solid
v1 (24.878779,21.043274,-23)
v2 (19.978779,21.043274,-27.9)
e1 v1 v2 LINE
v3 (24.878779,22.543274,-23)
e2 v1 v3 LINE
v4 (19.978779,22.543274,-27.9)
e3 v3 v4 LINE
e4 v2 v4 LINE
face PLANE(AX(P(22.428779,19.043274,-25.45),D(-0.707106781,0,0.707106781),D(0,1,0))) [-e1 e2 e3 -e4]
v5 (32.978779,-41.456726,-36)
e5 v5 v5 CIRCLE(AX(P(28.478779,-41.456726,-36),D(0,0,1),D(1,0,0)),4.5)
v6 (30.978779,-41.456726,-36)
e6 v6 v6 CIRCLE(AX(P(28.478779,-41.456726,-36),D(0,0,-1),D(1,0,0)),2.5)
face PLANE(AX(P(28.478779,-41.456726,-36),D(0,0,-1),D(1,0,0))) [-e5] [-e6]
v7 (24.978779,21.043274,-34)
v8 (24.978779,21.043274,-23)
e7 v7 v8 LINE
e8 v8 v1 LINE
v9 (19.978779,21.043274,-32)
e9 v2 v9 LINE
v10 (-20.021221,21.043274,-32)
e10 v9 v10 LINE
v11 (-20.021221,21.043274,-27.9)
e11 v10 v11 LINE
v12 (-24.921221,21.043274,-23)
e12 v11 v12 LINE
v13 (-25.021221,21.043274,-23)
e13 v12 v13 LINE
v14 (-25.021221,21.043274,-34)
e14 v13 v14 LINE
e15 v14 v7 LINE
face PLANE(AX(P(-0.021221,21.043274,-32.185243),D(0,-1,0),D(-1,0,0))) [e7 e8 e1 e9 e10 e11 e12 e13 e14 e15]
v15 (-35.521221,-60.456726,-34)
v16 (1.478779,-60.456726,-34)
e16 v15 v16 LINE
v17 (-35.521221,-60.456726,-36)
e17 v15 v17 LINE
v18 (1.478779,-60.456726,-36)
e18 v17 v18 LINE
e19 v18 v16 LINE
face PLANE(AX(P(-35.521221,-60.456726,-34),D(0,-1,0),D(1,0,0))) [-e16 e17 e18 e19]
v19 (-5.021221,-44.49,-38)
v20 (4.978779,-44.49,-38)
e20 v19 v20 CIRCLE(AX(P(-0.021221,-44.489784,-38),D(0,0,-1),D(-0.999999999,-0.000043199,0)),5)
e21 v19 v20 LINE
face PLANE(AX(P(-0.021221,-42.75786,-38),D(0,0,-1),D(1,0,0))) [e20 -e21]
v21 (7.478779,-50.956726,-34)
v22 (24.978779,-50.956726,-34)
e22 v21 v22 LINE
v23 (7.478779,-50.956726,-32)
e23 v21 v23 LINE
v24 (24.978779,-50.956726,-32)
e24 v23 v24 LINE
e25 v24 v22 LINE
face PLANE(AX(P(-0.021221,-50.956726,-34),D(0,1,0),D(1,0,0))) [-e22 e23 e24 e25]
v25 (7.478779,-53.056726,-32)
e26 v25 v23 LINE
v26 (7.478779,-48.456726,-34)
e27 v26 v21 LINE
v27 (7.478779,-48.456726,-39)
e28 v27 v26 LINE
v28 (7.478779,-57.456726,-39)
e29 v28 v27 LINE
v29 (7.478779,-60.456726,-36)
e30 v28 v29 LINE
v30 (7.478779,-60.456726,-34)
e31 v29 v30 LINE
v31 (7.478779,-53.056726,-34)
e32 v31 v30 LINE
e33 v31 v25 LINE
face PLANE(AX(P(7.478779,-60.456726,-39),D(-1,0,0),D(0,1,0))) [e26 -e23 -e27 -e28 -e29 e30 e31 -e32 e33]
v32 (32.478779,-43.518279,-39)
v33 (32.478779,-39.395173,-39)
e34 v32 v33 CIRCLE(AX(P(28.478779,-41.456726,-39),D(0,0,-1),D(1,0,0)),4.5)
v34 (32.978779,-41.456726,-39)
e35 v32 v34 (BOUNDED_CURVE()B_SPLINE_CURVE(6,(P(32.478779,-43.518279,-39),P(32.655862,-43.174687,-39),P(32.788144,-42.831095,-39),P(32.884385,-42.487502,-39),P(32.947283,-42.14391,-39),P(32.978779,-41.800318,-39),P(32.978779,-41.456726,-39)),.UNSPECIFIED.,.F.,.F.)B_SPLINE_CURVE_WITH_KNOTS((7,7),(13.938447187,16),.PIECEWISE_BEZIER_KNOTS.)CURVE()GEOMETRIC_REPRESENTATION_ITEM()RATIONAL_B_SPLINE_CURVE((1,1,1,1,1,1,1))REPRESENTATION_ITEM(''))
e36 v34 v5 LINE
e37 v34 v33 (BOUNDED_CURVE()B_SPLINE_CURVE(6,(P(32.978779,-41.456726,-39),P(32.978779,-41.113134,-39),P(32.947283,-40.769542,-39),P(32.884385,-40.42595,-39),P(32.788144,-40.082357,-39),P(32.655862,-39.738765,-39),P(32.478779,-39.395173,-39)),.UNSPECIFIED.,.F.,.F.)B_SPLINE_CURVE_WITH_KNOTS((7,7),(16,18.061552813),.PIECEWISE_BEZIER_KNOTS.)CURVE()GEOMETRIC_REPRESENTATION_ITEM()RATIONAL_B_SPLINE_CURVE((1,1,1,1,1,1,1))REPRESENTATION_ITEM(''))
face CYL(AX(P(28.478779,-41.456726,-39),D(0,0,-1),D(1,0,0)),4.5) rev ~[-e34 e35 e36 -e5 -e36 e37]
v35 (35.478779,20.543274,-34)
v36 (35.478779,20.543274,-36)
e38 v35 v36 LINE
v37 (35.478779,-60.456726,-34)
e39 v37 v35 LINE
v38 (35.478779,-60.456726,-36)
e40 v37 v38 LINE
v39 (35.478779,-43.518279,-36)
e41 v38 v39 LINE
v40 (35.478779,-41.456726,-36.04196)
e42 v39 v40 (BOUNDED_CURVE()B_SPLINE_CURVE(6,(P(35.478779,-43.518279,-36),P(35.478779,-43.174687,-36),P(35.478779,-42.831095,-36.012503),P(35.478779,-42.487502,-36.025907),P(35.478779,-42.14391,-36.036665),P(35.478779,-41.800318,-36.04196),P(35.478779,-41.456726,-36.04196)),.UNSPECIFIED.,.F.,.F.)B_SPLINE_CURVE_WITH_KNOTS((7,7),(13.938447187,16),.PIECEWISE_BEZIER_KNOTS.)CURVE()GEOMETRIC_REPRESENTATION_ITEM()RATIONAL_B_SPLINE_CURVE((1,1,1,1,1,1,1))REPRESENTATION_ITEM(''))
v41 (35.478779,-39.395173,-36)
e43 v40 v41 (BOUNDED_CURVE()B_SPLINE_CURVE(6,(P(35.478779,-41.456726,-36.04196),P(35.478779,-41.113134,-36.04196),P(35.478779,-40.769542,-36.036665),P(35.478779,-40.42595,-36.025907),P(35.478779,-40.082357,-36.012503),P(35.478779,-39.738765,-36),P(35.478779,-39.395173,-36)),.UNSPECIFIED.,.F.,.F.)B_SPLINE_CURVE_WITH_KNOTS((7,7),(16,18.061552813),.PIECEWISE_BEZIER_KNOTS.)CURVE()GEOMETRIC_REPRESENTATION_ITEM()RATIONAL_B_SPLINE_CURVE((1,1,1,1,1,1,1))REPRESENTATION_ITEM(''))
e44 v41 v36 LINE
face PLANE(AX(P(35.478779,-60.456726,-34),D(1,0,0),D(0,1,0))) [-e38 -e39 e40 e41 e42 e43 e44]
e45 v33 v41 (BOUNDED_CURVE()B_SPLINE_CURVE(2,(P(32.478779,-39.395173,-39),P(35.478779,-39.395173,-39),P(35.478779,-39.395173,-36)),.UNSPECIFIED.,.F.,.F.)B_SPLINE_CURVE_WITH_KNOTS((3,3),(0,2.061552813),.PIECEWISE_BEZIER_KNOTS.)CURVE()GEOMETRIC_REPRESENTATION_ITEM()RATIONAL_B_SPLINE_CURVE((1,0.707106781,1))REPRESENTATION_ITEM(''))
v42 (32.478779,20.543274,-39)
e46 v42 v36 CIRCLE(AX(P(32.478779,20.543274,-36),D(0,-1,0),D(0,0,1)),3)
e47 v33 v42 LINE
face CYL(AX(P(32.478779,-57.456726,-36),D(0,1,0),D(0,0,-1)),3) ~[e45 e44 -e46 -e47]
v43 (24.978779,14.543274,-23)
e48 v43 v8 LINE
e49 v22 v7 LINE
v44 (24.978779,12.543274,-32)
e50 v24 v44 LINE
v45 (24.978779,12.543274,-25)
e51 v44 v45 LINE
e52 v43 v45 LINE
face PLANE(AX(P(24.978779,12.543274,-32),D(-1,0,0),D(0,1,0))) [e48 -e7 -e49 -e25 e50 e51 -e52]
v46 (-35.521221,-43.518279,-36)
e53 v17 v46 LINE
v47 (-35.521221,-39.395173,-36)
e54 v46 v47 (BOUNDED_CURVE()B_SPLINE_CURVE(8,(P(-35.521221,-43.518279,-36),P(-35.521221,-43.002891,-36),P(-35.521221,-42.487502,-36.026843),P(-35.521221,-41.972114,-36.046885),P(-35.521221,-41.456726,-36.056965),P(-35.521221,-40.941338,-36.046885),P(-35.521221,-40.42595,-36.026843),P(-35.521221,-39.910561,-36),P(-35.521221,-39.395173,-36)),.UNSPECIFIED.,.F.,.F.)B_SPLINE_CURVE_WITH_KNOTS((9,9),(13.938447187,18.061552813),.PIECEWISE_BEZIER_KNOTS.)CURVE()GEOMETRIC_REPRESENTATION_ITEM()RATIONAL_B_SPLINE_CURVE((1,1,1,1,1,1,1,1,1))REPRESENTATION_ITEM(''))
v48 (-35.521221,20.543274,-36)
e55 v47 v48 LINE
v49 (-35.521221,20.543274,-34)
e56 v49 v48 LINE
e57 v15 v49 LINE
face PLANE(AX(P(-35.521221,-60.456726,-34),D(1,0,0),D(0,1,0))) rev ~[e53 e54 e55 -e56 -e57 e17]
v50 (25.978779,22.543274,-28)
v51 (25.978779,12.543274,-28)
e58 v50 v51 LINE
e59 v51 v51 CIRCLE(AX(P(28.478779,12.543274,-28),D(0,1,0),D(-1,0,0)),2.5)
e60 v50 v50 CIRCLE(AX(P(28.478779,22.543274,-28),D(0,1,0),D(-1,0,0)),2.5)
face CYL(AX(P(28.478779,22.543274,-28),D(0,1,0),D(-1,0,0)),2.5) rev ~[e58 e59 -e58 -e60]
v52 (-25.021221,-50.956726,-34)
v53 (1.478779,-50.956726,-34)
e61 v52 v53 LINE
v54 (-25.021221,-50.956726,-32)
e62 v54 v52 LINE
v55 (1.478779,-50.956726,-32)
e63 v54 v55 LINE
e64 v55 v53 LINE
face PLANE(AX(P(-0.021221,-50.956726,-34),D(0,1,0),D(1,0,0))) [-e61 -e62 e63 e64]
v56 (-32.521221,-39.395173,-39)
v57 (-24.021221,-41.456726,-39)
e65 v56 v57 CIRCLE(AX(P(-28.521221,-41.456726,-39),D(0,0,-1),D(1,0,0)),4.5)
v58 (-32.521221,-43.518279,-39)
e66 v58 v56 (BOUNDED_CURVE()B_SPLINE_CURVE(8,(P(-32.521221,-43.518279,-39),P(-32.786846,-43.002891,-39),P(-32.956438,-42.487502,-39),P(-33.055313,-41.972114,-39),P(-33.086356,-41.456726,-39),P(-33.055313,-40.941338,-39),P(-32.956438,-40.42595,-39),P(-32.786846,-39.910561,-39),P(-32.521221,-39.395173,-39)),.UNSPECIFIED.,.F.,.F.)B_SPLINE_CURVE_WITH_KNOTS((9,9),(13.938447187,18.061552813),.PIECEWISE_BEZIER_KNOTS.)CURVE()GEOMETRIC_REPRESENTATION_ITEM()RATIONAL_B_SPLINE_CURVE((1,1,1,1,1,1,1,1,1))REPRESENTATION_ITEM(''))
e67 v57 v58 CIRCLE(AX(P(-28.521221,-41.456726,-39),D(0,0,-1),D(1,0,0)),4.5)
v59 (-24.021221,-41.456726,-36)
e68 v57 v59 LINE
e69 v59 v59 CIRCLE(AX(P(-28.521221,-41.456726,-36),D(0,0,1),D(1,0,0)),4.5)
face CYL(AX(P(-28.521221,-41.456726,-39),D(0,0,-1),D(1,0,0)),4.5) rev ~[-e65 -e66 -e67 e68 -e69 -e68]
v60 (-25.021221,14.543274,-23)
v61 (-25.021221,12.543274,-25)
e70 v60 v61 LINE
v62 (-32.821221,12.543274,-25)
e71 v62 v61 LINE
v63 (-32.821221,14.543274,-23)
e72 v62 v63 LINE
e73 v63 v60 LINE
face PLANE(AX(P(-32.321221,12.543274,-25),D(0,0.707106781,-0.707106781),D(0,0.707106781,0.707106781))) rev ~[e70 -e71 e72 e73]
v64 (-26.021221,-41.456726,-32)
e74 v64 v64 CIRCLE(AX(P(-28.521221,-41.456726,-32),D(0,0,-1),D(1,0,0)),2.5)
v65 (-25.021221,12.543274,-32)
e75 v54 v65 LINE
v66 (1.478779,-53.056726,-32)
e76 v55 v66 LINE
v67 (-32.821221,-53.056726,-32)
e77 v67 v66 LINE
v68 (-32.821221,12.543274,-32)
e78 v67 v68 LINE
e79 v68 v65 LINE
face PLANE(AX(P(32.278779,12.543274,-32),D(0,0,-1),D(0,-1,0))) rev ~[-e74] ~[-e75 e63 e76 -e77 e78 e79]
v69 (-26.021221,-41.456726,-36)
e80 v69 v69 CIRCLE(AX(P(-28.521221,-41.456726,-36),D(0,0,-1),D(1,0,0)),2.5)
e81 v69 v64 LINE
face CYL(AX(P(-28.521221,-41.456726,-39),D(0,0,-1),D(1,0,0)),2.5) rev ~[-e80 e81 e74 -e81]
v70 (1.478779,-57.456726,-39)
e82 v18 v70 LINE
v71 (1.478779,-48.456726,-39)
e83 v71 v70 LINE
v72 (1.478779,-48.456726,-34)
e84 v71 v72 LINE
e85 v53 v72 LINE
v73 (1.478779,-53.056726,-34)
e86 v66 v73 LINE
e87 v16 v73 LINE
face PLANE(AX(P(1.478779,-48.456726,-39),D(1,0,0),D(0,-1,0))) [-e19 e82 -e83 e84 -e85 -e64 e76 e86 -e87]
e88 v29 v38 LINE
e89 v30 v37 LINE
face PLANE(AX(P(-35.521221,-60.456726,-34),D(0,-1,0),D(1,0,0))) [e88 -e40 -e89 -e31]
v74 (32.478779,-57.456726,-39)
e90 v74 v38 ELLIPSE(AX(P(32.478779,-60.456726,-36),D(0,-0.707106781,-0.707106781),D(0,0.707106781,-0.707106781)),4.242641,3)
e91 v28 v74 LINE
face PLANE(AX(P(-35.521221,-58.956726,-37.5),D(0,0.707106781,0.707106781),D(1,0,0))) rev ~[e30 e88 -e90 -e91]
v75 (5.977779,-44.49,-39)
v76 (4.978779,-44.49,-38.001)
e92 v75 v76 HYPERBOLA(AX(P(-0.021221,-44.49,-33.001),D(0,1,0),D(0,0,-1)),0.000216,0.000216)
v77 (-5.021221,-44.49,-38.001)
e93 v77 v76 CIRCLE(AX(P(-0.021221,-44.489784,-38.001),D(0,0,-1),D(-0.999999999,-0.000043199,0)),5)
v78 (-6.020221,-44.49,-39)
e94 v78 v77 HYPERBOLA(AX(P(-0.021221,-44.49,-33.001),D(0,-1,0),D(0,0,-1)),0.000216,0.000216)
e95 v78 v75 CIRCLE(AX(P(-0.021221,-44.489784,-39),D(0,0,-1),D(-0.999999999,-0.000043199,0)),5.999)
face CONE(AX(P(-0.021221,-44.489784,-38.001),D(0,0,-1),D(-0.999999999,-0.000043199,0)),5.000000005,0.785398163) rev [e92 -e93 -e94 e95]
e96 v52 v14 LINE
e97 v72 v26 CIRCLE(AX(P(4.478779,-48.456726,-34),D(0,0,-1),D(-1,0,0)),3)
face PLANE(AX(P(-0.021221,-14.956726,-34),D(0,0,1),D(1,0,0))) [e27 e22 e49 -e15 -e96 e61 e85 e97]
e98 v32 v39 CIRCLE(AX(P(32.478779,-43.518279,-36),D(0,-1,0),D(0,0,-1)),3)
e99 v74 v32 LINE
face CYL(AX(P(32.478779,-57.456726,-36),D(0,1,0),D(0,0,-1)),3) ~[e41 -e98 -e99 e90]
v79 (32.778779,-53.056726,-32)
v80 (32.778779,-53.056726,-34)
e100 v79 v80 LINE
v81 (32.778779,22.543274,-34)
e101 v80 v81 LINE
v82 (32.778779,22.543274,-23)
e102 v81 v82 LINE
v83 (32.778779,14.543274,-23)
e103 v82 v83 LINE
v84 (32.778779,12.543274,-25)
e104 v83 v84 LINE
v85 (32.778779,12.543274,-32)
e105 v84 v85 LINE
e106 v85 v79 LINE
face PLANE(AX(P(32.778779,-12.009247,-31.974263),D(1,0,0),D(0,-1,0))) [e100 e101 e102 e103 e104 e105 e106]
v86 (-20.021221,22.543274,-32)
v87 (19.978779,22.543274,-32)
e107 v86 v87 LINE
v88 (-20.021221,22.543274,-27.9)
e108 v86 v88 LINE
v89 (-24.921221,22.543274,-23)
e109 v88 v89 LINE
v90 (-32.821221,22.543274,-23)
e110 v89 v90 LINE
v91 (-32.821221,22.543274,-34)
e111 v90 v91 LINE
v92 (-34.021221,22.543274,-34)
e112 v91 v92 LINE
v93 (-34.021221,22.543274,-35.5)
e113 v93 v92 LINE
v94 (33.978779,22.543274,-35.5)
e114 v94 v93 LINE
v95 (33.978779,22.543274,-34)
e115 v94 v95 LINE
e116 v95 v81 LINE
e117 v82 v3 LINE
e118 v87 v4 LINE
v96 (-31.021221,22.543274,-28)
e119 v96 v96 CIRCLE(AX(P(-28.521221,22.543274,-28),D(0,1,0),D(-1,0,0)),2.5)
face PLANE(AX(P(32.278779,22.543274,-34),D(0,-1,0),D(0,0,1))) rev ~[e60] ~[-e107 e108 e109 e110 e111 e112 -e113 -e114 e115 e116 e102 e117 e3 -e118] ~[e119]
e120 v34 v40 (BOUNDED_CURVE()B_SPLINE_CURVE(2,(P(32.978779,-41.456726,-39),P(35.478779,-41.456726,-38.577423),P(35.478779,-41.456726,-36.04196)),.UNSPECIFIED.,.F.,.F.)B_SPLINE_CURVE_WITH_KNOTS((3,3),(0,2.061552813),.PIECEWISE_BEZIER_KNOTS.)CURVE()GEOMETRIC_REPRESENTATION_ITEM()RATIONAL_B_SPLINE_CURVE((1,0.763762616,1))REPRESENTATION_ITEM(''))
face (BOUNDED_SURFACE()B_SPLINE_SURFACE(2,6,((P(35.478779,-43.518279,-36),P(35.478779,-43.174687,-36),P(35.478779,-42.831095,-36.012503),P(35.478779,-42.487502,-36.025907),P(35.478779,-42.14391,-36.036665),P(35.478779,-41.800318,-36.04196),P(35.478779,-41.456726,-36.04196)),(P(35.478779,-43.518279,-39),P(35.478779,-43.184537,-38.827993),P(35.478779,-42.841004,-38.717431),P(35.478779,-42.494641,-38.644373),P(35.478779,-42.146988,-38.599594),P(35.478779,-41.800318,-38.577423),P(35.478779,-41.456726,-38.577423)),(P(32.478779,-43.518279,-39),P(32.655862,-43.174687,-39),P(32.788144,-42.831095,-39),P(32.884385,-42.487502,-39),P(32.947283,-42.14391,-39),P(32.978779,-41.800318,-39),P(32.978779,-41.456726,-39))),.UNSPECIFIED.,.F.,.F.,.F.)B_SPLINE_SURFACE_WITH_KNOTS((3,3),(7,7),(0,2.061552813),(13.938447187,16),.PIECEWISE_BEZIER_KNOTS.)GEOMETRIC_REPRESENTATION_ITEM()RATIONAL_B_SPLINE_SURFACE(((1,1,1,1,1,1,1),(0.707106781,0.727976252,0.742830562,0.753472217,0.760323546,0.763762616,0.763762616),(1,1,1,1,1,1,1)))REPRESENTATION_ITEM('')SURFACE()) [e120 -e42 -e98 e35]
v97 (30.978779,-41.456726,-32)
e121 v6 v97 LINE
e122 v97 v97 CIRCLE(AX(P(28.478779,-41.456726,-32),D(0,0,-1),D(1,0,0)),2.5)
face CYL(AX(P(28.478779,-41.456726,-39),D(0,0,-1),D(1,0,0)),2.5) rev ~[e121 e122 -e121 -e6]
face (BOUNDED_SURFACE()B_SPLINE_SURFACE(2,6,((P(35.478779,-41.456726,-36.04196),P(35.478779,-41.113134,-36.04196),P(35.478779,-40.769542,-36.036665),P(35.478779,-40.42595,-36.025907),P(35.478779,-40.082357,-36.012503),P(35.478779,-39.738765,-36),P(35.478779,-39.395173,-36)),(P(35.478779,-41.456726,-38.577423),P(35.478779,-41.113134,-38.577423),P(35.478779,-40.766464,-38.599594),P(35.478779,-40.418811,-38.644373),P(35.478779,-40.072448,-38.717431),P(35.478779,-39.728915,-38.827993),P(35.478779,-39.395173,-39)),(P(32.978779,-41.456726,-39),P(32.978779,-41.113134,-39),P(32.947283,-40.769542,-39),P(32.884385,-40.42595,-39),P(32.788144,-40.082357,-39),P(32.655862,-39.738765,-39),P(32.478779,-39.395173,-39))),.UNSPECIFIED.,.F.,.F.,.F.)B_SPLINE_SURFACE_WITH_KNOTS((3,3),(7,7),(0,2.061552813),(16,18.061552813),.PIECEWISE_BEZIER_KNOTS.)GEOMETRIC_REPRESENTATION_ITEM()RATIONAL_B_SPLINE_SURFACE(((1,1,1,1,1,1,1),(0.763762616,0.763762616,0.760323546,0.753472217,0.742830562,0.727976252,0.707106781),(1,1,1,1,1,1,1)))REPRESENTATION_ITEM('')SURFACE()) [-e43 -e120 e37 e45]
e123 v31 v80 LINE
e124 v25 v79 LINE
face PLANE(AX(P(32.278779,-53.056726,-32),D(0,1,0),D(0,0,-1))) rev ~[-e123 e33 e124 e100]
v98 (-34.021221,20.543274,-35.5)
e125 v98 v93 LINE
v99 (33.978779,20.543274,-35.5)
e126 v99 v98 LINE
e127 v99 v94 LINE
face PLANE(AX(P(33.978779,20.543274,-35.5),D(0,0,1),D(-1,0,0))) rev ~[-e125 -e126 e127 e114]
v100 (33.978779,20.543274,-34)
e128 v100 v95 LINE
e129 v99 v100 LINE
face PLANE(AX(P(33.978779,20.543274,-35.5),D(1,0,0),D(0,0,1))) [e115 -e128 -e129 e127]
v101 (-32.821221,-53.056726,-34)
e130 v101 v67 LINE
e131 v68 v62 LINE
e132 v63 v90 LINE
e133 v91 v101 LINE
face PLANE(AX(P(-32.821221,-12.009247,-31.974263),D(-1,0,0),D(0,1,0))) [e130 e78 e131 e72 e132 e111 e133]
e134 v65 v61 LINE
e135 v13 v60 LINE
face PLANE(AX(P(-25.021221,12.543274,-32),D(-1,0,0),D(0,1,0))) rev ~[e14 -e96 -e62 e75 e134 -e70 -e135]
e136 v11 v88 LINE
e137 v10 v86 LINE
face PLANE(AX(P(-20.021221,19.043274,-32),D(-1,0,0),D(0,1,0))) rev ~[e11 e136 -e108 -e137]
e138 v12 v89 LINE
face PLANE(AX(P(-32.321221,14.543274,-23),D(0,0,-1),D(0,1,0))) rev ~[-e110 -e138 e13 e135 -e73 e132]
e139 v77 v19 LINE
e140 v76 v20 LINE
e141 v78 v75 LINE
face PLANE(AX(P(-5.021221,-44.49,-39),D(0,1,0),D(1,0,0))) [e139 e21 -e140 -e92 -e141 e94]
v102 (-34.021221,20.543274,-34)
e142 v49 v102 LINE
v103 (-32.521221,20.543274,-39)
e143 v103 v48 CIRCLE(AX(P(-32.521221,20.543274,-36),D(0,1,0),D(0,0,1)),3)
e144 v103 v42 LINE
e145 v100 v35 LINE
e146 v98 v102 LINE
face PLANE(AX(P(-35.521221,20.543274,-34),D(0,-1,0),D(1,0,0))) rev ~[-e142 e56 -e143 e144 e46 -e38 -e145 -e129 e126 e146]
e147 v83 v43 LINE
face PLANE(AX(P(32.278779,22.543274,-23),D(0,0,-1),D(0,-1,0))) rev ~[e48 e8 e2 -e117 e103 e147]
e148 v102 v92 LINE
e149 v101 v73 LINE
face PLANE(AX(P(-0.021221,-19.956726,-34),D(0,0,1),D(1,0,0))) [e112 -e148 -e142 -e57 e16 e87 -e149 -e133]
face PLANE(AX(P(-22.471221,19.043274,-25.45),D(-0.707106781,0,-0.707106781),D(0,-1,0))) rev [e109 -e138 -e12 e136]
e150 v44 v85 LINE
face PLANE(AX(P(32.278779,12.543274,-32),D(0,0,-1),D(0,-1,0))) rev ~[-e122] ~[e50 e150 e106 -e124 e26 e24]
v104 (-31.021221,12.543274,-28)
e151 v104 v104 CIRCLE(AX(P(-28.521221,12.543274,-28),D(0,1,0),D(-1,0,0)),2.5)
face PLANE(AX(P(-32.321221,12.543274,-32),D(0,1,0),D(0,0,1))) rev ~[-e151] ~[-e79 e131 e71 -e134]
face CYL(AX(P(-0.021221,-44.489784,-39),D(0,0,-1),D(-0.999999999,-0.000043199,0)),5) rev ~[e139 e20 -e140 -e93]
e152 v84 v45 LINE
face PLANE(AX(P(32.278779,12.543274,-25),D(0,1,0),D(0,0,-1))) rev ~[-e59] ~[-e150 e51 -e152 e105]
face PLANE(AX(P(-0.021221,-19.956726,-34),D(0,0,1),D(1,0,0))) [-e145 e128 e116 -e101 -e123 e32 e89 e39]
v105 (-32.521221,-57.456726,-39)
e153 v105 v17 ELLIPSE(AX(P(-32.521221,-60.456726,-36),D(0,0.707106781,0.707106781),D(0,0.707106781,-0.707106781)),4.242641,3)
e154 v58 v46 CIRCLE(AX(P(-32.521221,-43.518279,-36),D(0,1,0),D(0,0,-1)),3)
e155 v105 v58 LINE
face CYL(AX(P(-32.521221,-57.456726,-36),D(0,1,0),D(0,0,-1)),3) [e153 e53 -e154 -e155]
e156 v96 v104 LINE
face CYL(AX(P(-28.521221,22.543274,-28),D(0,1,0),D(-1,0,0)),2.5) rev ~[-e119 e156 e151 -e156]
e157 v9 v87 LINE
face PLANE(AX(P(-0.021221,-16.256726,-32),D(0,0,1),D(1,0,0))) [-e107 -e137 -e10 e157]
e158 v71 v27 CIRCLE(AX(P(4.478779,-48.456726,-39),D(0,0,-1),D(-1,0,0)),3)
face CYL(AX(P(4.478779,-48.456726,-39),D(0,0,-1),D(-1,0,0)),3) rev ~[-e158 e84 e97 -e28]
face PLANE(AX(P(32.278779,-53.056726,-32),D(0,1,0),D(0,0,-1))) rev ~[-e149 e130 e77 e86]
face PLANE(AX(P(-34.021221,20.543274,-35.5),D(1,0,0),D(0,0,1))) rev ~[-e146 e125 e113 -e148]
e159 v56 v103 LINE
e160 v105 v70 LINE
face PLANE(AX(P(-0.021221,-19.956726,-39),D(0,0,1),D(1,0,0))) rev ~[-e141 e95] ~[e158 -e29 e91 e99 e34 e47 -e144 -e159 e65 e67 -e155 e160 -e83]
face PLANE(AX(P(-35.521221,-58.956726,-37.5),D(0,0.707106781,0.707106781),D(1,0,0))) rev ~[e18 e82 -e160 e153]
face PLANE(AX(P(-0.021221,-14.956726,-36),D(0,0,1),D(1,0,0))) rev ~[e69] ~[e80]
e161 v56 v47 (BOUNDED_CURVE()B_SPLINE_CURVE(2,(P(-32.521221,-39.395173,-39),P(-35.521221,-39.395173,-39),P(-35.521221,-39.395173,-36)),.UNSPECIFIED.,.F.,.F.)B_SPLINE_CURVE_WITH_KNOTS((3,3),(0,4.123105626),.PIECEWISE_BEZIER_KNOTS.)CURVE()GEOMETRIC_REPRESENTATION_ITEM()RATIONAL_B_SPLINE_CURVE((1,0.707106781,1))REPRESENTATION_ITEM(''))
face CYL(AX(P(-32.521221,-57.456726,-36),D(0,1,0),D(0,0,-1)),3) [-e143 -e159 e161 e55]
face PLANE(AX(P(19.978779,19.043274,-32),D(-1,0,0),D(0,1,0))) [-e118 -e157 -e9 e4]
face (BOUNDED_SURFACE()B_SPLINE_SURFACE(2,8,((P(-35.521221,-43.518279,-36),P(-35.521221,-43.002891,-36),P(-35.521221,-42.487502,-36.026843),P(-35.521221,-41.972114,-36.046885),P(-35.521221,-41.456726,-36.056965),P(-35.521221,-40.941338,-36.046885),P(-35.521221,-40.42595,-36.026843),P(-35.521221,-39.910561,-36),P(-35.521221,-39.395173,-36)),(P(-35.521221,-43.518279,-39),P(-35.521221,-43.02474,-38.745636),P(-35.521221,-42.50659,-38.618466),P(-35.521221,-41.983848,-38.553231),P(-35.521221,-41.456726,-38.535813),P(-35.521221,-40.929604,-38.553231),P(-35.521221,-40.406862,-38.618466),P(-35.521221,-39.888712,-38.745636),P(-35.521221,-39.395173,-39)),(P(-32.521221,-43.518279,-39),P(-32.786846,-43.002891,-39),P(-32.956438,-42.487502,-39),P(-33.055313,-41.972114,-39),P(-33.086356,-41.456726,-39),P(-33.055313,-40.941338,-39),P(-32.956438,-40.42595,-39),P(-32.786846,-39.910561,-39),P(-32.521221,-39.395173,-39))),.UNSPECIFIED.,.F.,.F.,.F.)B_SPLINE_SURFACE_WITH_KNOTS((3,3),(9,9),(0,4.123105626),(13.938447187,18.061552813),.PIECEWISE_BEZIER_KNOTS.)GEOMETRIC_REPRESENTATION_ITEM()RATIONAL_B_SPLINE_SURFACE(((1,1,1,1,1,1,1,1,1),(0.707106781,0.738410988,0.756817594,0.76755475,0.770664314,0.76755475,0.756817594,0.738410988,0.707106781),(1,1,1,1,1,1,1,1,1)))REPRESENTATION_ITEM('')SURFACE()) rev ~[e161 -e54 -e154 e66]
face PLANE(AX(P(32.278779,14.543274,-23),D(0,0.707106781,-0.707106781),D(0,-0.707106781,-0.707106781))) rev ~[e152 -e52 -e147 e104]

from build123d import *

# Parameters (mm, degrees)
SKETCH094_W        = 71
SKETCH094_H        = 81
PAD055_DEPTH       = 5
SKETCH096_W        = 68
SKETCH096_H        = 1.5
PAD053_DEPTH       = 2
SKETCH097_W        = 64.6
SKETCH097_H        = 77.6
PAD054_DEPTH       = 2
SKETCH098_W        = 50
SKETCH098_H        = 72
POCKET086_DEPTH    = 4
SKETCH095_W        = 7.3
SKETCH095_H        = 10
PAD057_DEPTH       = 9
SKETCH099_W        = 5
SKETCH099_H        = 3.5
PAD056_DEPTH       = 9
CHAMFER028_SIZE    = 4.9
SKETCH100_R        = 2.5
POCKET087_DEPTH    = 10
SKETCH102_R        = 2.5
POCKET091_DEPTH    = 10
SKETCH101_R        = 4.5
POCKET088_DEPTH    = 3
POCKET088_FACE29_W = 64.6
POCKET088_FACE29_H = 2
POCKET089_DEPTH    = 2
POCKET089_FACE16_W = 50
POCKET089_FACE16_H = 4
PAD059_DEPTH       = 2
POCKET092_DEPTH    = 2
CHAMFER027_SIZE    = 3
CHAMFER026_SIZE    = 2
SKETCH103_W        = 50
SKETCH103_H        = 72
PAD058_DEPTH       = 2
PAD058_FACE37_W    = 0.5
PAD058_FACE37_H    = 50
POCKET090_DEPTH    = 0.5
PAD061_DEPTH       = 0.5
PAD060_DEPTH       = 0.5
POCKET093_DEPTH    = 1
CHAMFER029_SIZE    = 0.999
FILLET010_R        = 3
POCKET094_DEPTH    = 50


with BuildPart() as part:
    # Sketch094 → Pad055 (new body)
    with BuildSketch(Plane.XY):
        with Locations((-0.121221, -9.466726)):
            Rectangle(SKETCH094_W, SKETCH094_H)
    extrude(amount=-PAD055_DEPTH)

    # Sketch096 (on Face1 of Pad055) → Pad053 (join)
    with BuildSketch(Plane(origin=(0, 31.033274, 0), x_dir=(-1, 0, 0), z_dir=(0, 1, 0))):
        with Locations((0.121221, -0.75)):
            Rectangle(SKETCH096_W, SKETCH096_H)
    extrude(amount=PAD053_DEPTH)

    # Sketch097 (on Face10 of Pad053) → Pad054 (join)
    with BuildSketch(Plane.XY):
        with Locations((-0.121221, -5.766726)):
            Rectangle(SKETCH097_W, SKETCH097_H)
    extrude(amount=PAD054_DEPTH)

    # Sketch098 (on Face13 of Pad054) → Pocket086 (cut)
    with BuildSketch(Plane.XY.offset(2)):
        with Locations((-0.121221, -6.466726)):
            Rectangle(SKETCH098_W, SKETCH098_H)
    extrude(amount=-POCKET086_DEPTH, mode=Mode.SUBTRACT)

    # Sketch095 (on Face14 of Pocket086) → Pad057 (join)
    with BuildSketch(Plane.XY.offset(2)):
        with Locations((28.528779, 28.033274)):
            Rectangle(SKETCH095_W, SKETCH095_H)
        with Locations((-28.771221, 28.033274)):
            Rectangle(SKETCH095_W, SKETCH095_H)
    extrude(amount=PAD057_DEPTH)

    # Sketch099 (on Face1 of Pad057) → Pad056 (join)
    with BuildSketch(Plane.XY.offset(2)):
        with Locations((-22.621221, 31.283274)):
            Rectangle(SKETCH099_W, SKETCH099_H)
        with Locations((22.378779, 31.283274)):
            Rectangle(SKETCH099_W, SKETCH099_H)
    extrude(amount=PAD056_DEPTH)

    # Chamfer028
    chamfer028_edges = [part.edges().sort_by_distance(p)[0] for p in [
        (-20.121221, 31.283274, 11),
        (19.878779, 31.283274, 11),
    ]]
    chamfer(chamfer028_edges, length=CHAMFER028_SIZE)

    # Sketch100 (on Face12 of Chamfer028) → Pocket087 (cut)
    with BuildSketch(Plane(origin=(0, 33.033274, 0), x_dir=(-1, 0, 0), z_dir=(0, 1, 0))):
        with Locations((-28.378779, 6)):
            Circle(SKETCH100_R)
        with Locations((28.621221, 6)):
            Circle(SKETCH100_R)
    extrude(amount=-POCKET087_DEPTH, mode=Mode.SUBTRACT)

    # Sketch102 (on Face30 of Pocket087) → Pocket091 (cut)
    with BuildSketch(Plane(origin=(0, 0, -5), x_dir=(1, 0, 0), z_dir=(0, 0, -1))):
        with Locations((-28.621221, 30.966726)):
            Circle(SKETCH102_R)
        with Locations((28.378779, 30.966726)):
            Circle(SKETCH102_R)
    extrude(amount=-POCKET091_DEPTH, mode=Mode.SUBTRACT)

    # Sketch101 (on Face32 of Pocket091) → Pocket088 (cut)
    with BuildSketch(Plane(origin=(0, 0, -5), x_dir=(1, 0, 0), z_dir=(0, 0, -1))):
        with Locations((-28.621221, 30.966726)):
            Circle(SKETCH101_R)
        with Locations((28.378779, 30.966726)):
            Circle(SKETCH101_R)
    extrude(amount=-POCKET088_DEPTH, mode=Mode.SUBTRACT)

    # Pocket088 Face29 → Pocket089 (cut)
    with BuildSketch(Plane(origin=(-0.121221, -44.566726, 1), x_dir=(-1, 0, 0), z_dir=(0, -1, 0))):
        Rectangle(POCKET088_FACE29_W, POCKET088_FACE29_H)
    extrude(amount=-POCKET089_DEPTH, mode=Mode.SUBTRACT)

    # Pocket089 Face16 → Pad059 (add)
    with BuildSketch(Plane(origin=(-0.121221, -42.466726, 0), x_dir=(1, 0, 0), z_dir=(0, 1, 0))):
        Rectangle(POCKET089_FACE16_W, POCKET089_FACE16_H)
    extrude(amount=PAD059_DEPTH)

    # Pad059 Face1 → Pocket092 (cut)
    with BuildSketch(Plane(origin=(-0.121221, 29.533274, 1.353834), x_dir=(-1, 0, 0), z_dir=(0, -1, 0))):
        Polygon((-25, -9.646166), (-24.9, -9.646166), (-20, -4.746166), (-20, -0.646166), (20, -0.646166), (20, -4.746166), (24.9, -9.646166), (25, -9.646166), (25, 3.353834), (-25, 3.353834), align=None)
    extrude(amount=-POCKET092_DEPTH, mode=Mode.SUBTRACT)

    # Chamfer027
    chamfer027_edges = [part.edges().sort_by_distance(p)[0] for p in [
        (-0.121221, -49.966726, -5),
    ]]
    chamfer(chamfer027_edges, length=CHAMFER027_SIZE)

    # Chamfer026
    chamfer026_edges = [part.edges().sort_by_distance(p)[0] for p in [
        (-28.771221, 23.033274, 11),
        (28.528779, 23.033274, 11),
    ]]
    chamfer(chamfer026_edges, length=CHAMFER026_SIZE)

    # Sketch103 (on Face10 of Chamfer026) → Pad058 (join)
    with BuildSketch(Plane.XY.offset(-2)):
        with Locations((-0.121221, -4.466726)):
            Rectangle(SKETCH103_W, SKETCH103_H)
    extrude(amount=PAD058_DEPTH)

    # Pad058 Face37 → Pocket090 (cut)
    with BuildSketch(Plane(origin=(-0.121221, 31.283274, -2), x_dir=(0, -1, 0), z_dir=(0, 0, -1))):
        Rectangle(PAD058_FACE37_W, PAD058_FACE37_H)
    extrude(amount=-POCKET090_DEPTH, mode=Mode.SUBTRACT)

    # Pocket090 Face9 → Pad061 (add)
    with BuildSketch(Plane(origin=(-32.421221, 7.336396, 2.99136), x_dir=(0, 1, 0), z_dir=(-1, 0, 0))):
        Polygon((17.696878, -8.00864), (25.696878, -8.00864), (25.696878, 2.99136), (-49.903122, 2.99136), (-49.903122, 0.99136), (15.696878, 0.99136), (15.696878, -6.00864), align=None)
    extrude(amount=PAD061_DEPTH)

    # Pad061 Face19 → Pad060 (add)
    with BuildSketch(Plane(origin=(32.178779, 7.336396, 2.99136), x_dir=(0, -1, 0), z_dir=(1, 0, 0))):
        Polygon((-15.696878, -6.00864), (-15.696878, 0.99136), (49.903122, 0.99136), (49.903122, 2.99136), (-25.696878, 2.99136), (-25.696878, -8.00864), (-17.696878, -8.00864), align=None)
    extrude(amount=PAD060_DEPTH)

    # Sketch104 (on Face22 of Pad060) → Pocket093 (cut)
    with BuildSketch(Plane(origin=(0, 0, -5), x_dir=(1, 0, 0), z_dir=(0, 0, -1))):
        with BuildLine():
            ThreePointArc((-5.121221, 34), (-0.121221, 28.999784), (4.878779, 34))
            Line((-5.121221, 34), (4.878779, 34))
        make_face()
    extrude(amount=-POCKET093_DEPTH, mode=Mode.SUBTRACT)

    # Chamfer029
    chamfer029_edges = [part.edges().sort_by_distance(p)[0] for p in [
        (-0.121221, -28.999784, -5),
    ]]
    chamfer(chamfer029_edges, length=CHAMFER029_SIZE)

    # Fillet010
    fillet010_edges = [part.edges().sort_by_distance(p)[0] for p in [
        (-35.621221, -7.966726, -5),
        (35.378779, -7.966726, -5),
    ]]
    fillet(fillet010_edges, radius=FILLET010_R)

    # Sketch105 (on Face1 of Fillet010) → Pocket094 (cut)
    with BuildSketch(Plane(origin=(0, 0, -5), x_dir=(1, 0, 0), z_dir=(0, 0, -1))):
        with BuildLine():
            Line((1.378779, 37.966726), (1.378779, 49.966726))
            Line((1.378779, 49.966726), (7.378779, 49.966726))
            Line((7.378779, 49.966726), (7.378779, 37.966726))
            ThreePointArc((1.378779, 37.966726), (4.378779, 34.966726), (7.378779, 37.966726))
        make_face()
    extrude(amount=-POCKET094_DEPTH, mode=Mode.SUBTRACT)


with BuildPart() as part_1:
    # Body007 placement: moved
    add(part.part.moved(Location((0.1, -10.49, -34))))


solid = part_1.part
